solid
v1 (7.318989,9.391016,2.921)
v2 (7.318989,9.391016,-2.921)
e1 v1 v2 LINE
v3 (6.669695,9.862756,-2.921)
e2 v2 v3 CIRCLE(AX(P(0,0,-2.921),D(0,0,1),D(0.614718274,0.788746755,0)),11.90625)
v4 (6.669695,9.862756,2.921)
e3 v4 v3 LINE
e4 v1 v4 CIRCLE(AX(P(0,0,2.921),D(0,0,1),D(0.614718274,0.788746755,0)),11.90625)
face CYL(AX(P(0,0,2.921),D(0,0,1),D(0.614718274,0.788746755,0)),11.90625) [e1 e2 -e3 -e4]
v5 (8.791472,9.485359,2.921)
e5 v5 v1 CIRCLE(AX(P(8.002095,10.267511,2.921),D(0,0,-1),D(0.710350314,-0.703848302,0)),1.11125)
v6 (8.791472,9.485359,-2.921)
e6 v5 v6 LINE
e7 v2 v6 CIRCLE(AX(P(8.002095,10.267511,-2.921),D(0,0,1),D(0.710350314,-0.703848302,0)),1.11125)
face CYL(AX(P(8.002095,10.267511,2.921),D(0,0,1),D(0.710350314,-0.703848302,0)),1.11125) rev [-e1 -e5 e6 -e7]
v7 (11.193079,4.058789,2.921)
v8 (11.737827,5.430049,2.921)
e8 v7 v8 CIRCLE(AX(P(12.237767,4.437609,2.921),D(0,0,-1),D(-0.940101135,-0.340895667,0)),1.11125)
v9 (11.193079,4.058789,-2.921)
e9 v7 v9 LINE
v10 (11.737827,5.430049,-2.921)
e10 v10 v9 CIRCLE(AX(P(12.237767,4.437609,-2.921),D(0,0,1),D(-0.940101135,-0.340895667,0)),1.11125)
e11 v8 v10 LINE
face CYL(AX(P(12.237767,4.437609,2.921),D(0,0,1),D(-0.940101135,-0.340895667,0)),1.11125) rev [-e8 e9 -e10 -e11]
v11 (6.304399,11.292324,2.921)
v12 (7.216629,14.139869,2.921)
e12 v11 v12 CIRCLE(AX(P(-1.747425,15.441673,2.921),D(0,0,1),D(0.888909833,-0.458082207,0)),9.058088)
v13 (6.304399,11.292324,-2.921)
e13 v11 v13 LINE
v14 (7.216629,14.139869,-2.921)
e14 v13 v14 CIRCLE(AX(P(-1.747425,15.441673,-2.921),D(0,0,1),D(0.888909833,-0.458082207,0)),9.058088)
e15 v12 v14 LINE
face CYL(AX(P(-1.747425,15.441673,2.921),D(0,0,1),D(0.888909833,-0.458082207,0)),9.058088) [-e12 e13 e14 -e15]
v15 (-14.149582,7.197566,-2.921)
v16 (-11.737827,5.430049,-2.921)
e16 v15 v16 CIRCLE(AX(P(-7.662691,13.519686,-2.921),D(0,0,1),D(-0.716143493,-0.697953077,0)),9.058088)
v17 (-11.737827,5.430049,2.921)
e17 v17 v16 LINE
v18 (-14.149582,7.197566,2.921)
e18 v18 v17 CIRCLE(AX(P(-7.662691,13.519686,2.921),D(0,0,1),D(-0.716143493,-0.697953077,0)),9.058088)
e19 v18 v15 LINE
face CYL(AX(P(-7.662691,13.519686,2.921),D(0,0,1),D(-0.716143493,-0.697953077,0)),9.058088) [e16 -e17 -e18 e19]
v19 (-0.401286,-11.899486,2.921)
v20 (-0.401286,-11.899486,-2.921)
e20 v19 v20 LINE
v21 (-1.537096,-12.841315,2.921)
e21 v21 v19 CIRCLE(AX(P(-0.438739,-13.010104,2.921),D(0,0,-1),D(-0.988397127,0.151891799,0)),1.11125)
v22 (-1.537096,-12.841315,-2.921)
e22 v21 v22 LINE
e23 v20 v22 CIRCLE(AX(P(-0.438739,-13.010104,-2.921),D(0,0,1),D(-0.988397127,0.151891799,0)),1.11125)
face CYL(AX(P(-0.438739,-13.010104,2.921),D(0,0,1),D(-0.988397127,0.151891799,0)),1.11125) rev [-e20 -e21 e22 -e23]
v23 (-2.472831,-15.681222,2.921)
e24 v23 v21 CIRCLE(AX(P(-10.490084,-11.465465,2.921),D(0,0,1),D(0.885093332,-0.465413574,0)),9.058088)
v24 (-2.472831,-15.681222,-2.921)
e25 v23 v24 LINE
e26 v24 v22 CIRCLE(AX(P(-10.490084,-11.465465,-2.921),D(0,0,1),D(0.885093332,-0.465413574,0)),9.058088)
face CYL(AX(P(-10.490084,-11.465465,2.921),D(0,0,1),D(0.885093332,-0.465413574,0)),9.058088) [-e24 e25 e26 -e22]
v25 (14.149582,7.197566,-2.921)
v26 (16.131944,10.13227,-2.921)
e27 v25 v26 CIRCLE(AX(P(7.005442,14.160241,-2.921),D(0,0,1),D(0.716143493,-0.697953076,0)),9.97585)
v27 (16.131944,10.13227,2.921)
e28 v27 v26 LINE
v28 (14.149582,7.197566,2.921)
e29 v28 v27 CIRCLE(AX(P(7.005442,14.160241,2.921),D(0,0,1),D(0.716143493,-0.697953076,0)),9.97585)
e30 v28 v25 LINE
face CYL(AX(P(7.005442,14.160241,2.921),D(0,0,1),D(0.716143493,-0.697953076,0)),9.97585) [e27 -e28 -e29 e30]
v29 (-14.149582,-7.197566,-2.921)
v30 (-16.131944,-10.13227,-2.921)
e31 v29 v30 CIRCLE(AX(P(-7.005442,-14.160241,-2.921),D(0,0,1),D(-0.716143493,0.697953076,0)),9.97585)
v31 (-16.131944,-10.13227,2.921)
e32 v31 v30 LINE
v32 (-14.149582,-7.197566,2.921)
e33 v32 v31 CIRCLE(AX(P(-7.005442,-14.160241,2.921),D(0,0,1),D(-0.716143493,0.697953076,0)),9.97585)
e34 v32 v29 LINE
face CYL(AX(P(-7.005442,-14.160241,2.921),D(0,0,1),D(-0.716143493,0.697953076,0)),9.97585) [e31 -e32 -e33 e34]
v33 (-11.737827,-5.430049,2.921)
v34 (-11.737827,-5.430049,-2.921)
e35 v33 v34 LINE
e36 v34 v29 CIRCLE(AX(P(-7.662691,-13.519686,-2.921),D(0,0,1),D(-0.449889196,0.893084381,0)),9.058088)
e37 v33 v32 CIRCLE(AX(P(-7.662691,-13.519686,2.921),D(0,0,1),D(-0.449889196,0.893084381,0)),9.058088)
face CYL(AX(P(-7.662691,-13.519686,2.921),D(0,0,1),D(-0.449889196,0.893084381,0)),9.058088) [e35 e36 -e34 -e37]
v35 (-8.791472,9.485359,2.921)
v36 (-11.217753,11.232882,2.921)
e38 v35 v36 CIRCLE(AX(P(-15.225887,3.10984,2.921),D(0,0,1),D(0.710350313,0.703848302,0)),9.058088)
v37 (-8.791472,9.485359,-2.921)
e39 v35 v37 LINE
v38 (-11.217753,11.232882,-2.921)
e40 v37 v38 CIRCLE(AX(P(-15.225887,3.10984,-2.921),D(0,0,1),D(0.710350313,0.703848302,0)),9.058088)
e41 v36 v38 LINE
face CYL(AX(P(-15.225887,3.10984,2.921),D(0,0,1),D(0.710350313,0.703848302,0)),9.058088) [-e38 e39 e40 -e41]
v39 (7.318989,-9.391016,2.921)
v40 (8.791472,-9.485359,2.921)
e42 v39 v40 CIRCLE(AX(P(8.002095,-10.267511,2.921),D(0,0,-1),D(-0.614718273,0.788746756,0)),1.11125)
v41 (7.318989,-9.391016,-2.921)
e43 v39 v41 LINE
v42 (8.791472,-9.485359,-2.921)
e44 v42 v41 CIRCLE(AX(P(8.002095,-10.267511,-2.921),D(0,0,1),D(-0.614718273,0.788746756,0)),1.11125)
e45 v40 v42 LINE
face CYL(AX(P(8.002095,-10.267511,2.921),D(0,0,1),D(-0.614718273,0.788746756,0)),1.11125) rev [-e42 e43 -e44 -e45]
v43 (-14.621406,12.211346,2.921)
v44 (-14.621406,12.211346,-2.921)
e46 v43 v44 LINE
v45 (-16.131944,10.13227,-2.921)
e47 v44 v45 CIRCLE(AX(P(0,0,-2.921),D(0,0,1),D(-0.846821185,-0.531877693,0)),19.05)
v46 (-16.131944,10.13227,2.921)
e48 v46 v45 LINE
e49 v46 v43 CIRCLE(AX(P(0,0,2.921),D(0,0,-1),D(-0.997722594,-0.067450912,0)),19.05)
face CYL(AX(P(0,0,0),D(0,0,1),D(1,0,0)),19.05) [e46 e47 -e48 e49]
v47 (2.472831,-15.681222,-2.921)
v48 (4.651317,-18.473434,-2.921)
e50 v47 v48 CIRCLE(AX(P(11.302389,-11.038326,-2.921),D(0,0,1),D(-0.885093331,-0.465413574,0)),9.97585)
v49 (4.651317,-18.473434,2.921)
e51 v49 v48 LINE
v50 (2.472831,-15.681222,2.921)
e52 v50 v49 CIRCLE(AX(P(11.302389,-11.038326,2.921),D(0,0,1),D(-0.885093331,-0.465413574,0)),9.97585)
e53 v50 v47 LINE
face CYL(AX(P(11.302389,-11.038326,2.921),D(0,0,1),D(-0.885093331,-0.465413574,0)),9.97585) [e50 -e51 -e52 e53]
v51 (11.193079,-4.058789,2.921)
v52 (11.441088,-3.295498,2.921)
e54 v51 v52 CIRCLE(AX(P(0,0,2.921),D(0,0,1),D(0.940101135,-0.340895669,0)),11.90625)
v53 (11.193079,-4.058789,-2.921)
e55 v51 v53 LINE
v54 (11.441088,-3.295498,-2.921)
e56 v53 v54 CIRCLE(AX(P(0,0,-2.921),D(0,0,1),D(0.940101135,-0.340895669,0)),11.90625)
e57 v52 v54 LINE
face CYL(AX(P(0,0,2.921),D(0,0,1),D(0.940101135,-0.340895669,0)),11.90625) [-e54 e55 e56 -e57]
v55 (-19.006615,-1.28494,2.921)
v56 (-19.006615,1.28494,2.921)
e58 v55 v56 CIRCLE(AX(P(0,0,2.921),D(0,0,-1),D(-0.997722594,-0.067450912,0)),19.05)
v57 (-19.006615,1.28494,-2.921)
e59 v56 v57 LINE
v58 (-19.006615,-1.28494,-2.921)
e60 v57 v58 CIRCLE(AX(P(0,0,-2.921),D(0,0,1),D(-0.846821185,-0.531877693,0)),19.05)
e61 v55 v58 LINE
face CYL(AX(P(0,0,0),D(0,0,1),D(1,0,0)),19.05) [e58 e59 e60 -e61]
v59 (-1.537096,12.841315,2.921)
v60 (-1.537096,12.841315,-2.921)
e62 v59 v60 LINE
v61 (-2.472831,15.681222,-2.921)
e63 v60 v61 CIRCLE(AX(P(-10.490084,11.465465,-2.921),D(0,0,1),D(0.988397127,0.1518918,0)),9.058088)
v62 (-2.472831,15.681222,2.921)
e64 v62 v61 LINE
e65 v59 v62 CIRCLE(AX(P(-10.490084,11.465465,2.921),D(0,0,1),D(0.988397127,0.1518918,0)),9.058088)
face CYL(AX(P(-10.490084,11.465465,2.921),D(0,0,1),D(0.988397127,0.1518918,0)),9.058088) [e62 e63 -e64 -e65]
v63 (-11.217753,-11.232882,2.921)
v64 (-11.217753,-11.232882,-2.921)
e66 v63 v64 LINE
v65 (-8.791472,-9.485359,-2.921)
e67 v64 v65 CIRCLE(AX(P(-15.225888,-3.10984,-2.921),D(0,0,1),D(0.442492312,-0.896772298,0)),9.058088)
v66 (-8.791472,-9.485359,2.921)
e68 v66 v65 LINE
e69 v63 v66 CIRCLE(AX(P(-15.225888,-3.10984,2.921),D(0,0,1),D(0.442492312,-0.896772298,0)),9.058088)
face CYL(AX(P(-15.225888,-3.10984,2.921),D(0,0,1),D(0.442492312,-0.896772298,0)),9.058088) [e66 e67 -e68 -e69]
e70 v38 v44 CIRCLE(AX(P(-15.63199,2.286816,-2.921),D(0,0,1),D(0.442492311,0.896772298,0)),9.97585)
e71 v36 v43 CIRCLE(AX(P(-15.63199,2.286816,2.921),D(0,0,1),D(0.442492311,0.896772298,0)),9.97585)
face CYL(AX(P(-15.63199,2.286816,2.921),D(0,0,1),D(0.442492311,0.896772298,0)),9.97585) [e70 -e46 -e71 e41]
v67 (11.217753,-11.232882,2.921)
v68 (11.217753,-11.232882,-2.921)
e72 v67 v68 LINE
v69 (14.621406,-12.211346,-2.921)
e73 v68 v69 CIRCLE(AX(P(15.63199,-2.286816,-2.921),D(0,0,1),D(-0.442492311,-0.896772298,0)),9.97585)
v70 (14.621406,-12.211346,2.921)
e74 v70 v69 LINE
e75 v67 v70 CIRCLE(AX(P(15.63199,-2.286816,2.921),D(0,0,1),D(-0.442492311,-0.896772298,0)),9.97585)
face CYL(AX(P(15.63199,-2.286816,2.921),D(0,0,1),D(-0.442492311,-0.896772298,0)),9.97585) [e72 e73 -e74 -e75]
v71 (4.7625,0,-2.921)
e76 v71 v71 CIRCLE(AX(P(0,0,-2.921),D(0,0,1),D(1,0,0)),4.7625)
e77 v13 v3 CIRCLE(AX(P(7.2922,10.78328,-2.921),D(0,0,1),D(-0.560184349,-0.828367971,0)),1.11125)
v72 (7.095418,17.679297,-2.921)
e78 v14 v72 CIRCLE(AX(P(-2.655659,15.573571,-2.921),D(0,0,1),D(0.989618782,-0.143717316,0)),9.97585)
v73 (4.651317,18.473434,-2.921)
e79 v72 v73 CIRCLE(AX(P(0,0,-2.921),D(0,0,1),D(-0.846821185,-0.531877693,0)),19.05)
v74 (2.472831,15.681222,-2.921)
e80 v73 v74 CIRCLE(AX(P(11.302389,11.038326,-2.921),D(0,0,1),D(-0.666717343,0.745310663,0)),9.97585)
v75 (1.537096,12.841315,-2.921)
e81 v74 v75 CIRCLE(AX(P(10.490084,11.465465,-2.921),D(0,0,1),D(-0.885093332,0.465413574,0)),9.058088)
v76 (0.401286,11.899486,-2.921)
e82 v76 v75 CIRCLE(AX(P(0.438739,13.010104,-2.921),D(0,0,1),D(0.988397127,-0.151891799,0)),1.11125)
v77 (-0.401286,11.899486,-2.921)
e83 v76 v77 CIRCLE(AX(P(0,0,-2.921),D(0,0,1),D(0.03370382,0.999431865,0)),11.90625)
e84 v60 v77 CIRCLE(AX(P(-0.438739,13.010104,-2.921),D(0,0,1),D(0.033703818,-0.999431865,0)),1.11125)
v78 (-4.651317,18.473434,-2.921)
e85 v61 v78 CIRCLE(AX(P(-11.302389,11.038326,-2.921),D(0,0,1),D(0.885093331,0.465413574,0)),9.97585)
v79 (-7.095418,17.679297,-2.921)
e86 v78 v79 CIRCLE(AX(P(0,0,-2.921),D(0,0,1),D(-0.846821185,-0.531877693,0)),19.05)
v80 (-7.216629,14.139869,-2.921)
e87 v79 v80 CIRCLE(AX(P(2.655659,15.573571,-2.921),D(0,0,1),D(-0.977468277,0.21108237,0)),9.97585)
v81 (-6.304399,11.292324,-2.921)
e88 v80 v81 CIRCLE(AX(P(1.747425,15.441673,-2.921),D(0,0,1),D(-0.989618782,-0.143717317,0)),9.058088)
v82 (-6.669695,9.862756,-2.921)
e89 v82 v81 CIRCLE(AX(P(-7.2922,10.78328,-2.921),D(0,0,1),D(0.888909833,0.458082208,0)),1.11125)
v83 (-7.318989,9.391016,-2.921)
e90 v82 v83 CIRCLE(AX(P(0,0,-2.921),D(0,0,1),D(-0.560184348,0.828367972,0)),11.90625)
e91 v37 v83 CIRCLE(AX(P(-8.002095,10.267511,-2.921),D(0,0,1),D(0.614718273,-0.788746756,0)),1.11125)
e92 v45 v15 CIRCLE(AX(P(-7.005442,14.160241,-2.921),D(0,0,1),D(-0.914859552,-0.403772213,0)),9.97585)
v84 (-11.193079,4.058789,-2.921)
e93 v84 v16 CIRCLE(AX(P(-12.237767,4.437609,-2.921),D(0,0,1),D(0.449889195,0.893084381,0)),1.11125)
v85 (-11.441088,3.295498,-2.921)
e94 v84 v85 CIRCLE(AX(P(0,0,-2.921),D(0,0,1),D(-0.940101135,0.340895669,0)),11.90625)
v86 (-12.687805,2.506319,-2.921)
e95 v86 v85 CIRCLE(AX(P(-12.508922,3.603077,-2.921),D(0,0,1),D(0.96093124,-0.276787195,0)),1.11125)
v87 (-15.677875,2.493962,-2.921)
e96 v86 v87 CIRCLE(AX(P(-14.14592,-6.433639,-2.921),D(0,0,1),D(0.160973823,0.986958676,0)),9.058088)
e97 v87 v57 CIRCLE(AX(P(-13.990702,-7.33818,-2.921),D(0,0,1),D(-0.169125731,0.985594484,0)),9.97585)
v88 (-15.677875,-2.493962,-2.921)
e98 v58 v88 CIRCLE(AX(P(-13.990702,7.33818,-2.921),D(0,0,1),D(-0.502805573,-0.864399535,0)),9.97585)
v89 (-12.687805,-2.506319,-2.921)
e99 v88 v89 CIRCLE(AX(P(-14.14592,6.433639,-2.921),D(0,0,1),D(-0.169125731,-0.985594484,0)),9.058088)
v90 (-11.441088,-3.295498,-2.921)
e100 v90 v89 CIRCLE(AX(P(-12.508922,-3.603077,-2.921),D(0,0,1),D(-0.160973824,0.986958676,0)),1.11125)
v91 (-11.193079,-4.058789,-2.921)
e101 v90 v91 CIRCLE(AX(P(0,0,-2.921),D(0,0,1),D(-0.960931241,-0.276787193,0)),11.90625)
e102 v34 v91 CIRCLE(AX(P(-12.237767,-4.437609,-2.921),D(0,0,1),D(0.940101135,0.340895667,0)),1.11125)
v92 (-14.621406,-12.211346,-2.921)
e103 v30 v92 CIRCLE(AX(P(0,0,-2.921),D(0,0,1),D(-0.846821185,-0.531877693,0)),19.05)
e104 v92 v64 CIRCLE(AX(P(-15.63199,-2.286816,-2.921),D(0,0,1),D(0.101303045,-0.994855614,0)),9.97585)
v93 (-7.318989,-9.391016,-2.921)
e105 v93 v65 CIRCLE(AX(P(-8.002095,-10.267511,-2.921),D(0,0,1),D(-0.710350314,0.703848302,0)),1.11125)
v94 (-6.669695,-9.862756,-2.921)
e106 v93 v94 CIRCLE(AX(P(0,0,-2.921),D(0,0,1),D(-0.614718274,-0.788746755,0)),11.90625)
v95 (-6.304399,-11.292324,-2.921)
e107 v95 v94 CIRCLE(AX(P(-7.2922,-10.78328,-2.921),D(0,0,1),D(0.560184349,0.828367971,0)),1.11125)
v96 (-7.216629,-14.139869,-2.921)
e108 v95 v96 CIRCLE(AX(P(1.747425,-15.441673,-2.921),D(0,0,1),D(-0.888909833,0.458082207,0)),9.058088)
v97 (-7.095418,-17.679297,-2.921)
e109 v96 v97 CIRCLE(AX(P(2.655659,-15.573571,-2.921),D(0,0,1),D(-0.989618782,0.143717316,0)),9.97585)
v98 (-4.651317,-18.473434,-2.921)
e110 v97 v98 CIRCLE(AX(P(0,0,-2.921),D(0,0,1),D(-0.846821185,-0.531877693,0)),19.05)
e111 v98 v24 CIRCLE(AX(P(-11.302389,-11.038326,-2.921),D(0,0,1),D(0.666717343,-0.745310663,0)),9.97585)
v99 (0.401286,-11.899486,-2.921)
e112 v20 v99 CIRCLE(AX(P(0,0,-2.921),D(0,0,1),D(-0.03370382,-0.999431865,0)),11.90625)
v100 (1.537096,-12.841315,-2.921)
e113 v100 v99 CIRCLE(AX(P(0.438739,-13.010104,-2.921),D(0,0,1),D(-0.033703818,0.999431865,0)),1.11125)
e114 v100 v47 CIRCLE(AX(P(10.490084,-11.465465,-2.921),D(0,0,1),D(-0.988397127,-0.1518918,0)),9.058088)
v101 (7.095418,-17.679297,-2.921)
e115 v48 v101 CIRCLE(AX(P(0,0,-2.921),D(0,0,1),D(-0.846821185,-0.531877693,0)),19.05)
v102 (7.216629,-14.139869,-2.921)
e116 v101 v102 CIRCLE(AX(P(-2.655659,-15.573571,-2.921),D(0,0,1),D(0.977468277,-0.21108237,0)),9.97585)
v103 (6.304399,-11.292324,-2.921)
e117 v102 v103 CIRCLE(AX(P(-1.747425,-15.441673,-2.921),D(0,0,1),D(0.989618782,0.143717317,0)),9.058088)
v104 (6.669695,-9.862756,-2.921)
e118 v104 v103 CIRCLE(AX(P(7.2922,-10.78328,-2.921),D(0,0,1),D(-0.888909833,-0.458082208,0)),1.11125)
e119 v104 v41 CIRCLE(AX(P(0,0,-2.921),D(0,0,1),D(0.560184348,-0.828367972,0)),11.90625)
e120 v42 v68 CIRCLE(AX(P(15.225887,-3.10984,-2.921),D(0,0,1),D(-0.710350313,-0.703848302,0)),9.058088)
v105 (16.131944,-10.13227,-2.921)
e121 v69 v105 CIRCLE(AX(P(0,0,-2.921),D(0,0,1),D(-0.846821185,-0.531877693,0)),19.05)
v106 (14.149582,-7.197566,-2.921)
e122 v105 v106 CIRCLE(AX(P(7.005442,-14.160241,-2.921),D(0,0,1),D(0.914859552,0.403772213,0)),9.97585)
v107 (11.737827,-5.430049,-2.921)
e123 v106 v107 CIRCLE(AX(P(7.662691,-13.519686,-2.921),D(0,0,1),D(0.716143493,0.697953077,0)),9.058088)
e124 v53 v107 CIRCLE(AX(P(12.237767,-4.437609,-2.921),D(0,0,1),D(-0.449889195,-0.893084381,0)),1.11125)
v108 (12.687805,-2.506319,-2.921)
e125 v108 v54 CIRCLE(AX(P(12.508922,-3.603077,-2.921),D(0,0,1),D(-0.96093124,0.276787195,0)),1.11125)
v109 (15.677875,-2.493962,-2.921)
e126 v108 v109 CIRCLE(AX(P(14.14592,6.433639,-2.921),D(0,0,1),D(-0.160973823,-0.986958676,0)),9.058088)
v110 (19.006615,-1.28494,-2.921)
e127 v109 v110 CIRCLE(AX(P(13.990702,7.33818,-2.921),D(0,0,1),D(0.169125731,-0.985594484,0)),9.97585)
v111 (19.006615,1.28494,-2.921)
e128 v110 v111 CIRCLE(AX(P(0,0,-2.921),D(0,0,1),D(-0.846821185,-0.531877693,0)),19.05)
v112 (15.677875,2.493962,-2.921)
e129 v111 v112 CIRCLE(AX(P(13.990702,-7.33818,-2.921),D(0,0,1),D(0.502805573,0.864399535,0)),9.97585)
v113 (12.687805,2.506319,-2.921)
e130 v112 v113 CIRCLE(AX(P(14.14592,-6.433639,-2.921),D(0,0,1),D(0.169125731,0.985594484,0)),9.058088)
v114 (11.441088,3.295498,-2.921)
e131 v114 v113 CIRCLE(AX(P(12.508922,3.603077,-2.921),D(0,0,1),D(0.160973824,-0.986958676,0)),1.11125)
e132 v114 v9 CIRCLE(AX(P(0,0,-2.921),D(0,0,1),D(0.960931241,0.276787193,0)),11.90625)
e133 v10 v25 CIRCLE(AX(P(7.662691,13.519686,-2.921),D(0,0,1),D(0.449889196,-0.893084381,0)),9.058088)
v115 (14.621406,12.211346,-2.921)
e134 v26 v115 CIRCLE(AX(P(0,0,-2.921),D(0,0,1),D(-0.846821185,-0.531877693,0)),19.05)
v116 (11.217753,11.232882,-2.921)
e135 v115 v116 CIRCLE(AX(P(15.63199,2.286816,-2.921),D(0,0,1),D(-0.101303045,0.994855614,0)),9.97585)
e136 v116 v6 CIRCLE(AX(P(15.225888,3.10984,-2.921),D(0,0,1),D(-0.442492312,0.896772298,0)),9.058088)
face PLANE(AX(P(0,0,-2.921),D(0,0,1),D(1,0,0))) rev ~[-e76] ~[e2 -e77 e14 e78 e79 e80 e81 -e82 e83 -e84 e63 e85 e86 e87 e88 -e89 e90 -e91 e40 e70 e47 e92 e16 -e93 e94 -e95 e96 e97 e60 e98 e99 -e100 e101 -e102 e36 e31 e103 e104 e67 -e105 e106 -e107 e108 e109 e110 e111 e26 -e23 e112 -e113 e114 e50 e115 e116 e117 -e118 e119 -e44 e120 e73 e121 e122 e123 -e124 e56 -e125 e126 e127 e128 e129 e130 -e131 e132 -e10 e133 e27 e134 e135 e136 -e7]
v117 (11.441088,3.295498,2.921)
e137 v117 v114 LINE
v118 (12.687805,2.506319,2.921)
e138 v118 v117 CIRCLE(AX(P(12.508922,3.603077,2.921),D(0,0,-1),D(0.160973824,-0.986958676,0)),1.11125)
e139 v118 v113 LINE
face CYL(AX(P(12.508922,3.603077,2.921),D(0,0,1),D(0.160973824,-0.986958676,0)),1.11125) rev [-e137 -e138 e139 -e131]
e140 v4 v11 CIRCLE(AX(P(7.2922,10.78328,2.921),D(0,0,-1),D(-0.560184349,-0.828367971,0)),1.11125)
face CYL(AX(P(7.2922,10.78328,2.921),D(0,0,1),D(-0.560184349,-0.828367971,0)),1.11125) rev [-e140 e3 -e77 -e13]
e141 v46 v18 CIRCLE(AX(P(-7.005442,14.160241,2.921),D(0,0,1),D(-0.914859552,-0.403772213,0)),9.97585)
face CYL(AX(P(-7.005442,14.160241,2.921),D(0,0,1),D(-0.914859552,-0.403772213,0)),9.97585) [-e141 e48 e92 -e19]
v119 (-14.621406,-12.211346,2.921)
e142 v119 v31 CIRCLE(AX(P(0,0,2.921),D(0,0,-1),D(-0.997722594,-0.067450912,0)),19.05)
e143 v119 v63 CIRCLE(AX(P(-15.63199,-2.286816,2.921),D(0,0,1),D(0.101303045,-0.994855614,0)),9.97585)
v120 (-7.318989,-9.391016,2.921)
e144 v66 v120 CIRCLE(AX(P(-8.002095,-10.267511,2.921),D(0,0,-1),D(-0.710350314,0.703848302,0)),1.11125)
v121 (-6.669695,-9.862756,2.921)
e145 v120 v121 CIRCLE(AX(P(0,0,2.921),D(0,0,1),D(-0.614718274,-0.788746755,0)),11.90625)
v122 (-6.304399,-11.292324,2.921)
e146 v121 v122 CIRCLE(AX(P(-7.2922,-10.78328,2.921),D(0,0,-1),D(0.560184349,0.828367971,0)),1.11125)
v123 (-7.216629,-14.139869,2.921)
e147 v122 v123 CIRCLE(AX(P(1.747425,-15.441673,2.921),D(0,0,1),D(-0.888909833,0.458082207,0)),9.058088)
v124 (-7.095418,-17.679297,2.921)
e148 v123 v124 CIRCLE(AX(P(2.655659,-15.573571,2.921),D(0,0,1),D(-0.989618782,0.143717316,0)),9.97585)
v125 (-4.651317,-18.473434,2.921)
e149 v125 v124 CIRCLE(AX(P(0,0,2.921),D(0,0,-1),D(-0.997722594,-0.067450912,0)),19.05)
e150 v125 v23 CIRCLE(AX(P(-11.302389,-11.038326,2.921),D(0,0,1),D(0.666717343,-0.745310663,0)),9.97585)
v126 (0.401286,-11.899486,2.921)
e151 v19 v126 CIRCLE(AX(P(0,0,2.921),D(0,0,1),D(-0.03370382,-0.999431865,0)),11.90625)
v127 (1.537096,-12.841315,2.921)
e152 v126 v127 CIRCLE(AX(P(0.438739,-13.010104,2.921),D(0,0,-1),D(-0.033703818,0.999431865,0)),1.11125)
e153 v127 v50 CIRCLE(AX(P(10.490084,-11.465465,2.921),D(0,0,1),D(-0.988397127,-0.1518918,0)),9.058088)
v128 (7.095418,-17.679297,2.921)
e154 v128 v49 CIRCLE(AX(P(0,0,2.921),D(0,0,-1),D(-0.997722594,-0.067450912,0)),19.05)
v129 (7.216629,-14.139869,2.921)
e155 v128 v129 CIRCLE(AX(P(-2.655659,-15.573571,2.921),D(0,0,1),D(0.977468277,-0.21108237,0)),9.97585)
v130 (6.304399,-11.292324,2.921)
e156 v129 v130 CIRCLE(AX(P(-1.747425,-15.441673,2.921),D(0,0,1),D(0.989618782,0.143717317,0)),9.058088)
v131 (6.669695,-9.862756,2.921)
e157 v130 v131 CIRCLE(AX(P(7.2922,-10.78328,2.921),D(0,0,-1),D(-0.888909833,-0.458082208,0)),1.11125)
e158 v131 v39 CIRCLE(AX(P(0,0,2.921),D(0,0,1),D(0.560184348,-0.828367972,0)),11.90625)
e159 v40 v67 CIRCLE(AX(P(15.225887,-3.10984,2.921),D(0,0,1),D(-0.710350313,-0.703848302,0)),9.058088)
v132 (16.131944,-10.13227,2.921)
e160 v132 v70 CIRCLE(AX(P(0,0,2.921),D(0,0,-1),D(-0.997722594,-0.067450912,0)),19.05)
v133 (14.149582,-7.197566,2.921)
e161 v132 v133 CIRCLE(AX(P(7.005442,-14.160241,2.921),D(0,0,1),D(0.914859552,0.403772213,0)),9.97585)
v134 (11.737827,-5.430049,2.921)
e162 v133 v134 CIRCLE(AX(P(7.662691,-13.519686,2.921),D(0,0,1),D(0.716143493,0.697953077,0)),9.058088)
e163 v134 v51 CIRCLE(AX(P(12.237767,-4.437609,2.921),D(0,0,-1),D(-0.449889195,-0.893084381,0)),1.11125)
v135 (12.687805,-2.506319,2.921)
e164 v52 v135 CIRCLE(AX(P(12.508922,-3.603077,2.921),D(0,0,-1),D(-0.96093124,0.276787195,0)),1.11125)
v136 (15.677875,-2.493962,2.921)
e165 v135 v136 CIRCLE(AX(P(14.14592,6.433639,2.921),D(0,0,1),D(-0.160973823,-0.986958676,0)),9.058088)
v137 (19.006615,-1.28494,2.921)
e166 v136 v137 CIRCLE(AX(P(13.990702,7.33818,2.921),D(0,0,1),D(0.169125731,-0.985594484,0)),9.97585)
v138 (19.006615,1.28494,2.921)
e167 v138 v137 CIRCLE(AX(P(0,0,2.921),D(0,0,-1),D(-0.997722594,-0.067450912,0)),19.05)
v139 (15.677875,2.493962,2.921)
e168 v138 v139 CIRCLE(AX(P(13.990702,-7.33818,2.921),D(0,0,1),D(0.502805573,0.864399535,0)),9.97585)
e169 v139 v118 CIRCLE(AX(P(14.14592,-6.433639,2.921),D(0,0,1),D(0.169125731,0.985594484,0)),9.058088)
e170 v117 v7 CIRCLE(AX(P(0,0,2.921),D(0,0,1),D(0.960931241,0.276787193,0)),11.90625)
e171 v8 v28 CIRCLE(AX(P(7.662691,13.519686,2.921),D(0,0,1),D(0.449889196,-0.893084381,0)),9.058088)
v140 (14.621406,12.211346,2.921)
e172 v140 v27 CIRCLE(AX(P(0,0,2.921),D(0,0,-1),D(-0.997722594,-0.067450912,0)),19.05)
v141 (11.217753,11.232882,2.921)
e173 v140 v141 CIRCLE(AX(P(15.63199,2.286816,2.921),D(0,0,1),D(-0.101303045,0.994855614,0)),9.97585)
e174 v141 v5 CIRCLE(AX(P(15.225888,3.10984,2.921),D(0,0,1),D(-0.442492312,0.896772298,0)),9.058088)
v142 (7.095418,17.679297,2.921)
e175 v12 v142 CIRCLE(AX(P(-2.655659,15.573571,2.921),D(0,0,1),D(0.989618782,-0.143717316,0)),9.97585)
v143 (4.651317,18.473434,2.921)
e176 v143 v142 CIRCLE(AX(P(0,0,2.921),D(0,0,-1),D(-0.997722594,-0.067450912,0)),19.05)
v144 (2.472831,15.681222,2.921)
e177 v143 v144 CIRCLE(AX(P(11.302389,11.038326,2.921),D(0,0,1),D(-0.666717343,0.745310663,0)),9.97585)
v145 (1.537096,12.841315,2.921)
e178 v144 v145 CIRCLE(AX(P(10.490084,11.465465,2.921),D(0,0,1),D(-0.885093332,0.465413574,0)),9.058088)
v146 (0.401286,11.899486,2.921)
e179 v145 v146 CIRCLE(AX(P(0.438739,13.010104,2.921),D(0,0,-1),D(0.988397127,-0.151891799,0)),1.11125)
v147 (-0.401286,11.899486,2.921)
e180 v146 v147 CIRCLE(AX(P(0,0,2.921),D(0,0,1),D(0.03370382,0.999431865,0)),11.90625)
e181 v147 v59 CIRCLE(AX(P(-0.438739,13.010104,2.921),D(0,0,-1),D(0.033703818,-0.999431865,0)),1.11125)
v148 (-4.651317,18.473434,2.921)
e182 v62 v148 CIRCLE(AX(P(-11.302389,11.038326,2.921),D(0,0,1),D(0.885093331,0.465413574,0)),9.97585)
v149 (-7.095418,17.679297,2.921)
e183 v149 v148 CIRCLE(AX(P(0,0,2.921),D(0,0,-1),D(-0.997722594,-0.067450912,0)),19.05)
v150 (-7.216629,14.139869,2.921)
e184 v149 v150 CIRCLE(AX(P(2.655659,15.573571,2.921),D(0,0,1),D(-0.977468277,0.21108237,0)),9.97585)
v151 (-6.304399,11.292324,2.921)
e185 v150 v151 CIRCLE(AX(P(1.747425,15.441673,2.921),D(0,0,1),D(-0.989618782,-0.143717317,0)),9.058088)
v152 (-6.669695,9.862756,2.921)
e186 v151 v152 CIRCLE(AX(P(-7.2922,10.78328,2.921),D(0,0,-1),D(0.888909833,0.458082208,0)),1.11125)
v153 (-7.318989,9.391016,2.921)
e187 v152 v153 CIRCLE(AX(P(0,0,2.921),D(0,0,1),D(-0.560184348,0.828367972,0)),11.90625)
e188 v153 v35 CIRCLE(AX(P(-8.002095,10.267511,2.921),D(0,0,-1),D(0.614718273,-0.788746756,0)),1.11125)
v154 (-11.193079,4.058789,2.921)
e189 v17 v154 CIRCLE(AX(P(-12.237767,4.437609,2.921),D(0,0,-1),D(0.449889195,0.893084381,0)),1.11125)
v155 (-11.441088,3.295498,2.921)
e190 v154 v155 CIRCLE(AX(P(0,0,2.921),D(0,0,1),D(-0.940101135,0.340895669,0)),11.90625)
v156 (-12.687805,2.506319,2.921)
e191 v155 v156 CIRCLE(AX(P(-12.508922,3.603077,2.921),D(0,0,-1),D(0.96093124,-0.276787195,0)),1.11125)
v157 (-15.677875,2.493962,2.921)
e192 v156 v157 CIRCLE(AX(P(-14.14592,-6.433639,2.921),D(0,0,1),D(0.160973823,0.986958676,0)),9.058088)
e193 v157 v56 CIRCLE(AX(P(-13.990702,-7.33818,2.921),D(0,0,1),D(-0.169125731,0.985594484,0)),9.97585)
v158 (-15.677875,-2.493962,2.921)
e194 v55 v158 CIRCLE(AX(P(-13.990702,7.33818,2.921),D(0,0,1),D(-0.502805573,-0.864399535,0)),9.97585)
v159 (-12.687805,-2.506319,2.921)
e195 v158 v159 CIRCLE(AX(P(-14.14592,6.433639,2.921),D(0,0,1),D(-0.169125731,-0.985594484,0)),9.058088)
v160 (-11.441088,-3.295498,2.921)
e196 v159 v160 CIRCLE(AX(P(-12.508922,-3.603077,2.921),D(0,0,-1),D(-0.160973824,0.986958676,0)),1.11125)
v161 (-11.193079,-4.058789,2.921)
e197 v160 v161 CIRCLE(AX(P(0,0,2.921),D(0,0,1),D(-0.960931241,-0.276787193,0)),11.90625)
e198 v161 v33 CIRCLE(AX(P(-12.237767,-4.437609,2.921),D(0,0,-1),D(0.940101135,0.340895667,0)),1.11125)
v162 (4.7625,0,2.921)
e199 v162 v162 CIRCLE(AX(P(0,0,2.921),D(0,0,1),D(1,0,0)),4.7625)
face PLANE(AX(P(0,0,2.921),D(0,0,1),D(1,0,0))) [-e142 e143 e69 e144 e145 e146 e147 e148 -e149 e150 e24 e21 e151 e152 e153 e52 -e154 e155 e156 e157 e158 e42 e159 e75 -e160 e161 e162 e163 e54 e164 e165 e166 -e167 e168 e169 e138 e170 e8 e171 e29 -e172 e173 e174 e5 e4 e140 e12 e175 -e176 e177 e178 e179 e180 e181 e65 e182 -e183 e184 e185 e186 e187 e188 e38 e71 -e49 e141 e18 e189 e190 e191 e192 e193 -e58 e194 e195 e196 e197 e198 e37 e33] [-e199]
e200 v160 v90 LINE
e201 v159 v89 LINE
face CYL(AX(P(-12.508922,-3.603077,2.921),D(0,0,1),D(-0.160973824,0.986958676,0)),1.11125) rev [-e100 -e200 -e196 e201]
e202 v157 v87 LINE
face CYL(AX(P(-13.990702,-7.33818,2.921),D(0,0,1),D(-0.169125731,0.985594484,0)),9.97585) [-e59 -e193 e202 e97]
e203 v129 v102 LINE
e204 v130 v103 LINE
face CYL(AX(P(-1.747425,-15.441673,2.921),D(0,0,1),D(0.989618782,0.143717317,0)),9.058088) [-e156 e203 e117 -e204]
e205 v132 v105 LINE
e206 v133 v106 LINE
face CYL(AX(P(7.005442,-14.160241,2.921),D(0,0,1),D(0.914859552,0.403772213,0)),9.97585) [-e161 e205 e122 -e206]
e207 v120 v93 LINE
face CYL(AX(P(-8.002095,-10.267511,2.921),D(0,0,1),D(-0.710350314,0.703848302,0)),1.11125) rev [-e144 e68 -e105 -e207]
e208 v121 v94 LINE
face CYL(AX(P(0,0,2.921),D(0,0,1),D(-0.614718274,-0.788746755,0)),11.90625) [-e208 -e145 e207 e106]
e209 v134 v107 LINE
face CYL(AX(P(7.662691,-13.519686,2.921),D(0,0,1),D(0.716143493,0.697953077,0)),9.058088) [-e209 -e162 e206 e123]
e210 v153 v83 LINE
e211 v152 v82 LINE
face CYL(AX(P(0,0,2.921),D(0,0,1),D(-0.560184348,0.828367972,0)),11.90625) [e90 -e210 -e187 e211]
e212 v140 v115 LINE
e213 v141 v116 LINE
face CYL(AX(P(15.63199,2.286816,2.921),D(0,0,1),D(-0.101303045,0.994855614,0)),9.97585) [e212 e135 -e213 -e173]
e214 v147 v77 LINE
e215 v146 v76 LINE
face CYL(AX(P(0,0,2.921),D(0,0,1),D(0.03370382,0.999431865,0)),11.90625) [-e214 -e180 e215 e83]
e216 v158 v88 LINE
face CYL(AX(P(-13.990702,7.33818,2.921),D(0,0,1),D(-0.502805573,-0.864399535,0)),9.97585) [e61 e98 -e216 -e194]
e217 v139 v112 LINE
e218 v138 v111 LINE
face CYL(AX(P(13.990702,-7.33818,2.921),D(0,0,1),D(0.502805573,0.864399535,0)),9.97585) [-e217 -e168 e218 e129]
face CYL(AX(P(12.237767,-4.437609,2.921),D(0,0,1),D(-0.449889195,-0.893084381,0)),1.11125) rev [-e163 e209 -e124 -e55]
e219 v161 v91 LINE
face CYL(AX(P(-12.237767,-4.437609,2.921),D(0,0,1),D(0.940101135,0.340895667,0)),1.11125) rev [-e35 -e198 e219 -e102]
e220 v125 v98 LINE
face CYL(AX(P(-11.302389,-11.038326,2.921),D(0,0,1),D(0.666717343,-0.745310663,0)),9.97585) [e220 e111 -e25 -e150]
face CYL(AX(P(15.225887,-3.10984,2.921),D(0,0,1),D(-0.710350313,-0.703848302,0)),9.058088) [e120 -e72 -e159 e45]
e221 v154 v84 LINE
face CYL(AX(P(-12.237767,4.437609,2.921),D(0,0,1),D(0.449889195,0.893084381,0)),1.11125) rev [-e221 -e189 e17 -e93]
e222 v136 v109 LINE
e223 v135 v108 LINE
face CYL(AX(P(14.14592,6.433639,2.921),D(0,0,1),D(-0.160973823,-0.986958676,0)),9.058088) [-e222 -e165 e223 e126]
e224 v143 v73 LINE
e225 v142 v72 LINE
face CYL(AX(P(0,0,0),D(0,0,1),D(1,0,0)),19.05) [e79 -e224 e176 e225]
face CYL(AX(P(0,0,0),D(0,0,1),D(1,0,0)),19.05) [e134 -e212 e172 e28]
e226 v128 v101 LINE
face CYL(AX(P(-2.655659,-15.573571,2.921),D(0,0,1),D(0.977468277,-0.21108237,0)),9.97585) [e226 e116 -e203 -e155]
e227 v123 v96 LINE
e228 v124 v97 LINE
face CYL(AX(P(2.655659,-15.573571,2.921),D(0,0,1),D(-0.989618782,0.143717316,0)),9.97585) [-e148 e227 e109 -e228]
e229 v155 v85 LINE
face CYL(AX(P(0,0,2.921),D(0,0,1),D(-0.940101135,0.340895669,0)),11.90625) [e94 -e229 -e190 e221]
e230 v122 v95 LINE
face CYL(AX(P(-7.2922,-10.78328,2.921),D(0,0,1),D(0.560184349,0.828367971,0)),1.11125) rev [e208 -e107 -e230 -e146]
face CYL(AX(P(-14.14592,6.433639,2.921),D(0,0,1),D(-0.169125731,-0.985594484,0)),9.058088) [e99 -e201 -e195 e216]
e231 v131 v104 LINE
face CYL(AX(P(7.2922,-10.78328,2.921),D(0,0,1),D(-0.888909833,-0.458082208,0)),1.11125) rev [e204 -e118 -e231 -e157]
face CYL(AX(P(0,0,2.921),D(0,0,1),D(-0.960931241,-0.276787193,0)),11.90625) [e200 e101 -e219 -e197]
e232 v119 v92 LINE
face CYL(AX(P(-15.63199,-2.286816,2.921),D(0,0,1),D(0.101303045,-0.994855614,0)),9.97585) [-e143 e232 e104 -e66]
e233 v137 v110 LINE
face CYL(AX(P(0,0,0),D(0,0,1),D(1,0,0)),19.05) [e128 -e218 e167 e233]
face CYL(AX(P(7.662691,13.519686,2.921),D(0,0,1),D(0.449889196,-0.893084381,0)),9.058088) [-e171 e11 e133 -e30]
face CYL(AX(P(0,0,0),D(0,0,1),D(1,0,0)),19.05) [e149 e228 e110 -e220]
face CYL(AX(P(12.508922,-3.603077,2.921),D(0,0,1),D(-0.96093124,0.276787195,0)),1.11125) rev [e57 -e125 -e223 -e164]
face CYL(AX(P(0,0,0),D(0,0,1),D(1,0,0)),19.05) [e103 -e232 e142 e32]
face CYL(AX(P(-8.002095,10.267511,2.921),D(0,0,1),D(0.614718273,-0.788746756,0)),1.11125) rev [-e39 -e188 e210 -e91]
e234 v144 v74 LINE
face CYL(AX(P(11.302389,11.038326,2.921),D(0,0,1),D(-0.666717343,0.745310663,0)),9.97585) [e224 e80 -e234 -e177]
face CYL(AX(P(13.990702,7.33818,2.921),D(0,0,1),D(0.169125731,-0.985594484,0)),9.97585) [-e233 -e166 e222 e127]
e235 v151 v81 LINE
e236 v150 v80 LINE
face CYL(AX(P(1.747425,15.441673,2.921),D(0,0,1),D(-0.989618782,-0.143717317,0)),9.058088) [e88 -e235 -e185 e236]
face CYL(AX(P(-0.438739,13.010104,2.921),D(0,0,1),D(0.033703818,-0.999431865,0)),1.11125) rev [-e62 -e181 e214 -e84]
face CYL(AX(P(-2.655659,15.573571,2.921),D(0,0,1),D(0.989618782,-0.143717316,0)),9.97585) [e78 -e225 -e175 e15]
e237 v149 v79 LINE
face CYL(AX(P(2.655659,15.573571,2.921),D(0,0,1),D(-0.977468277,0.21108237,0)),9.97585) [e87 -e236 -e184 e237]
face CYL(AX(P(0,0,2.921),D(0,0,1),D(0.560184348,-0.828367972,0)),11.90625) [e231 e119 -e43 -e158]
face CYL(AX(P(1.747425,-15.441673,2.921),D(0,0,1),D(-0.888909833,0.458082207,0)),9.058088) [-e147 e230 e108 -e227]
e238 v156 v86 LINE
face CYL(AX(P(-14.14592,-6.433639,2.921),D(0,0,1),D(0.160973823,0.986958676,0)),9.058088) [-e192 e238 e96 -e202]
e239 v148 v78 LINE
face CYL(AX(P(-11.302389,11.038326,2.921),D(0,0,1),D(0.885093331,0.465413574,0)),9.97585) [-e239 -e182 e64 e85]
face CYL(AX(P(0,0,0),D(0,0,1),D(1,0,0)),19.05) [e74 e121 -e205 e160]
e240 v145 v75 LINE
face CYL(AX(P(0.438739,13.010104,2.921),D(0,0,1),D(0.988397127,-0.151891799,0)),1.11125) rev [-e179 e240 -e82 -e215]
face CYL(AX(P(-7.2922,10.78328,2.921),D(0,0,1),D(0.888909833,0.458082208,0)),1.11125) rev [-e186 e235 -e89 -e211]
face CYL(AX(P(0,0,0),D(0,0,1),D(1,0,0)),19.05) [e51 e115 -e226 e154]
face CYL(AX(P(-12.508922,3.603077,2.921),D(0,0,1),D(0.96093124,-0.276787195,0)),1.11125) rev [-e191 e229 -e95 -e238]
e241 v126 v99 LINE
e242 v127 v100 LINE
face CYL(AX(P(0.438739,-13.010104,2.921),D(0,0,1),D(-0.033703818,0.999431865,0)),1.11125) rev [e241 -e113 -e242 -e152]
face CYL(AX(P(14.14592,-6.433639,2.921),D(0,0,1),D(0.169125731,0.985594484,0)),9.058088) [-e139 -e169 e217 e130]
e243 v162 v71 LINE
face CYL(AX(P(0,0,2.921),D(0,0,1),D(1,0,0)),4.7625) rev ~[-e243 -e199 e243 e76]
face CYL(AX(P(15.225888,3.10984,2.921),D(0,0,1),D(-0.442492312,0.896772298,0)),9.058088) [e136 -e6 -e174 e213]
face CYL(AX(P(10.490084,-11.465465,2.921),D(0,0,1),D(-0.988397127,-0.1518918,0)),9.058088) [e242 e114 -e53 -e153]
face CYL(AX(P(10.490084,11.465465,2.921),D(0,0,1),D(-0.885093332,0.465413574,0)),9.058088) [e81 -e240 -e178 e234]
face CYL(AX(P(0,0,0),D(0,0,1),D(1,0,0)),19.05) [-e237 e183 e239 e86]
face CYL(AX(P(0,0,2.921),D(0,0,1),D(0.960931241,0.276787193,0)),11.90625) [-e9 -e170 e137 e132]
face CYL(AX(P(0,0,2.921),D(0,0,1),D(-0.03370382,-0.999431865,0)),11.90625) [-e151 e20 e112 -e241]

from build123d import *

# Parameters (mm, degrees)
SKETCH1_R        = 19.05
GEAR_BASE_DEPTH  = 2.921
GEAR_CUT_DEPTH   = 28.566899789
GEAR_TEETH_COUNT = 10
SKETCH3_R        = 4.7625
BORE_DEPTH       = 28.171662015


with BuildPart() as part:
    # Sketch1 → GEAR_BASE (new, symmetric)
    with BuildSketch(Plane.XY):
        Circle(SKETCH1_R)
    extrude(amount=GEAR_BASE_DEPTH, both=True)

    # Sketch2 → GEAR_CUT (cut, through all)
    with BuildSketch(Plane.XY.offset(2.921)):
        with BuildLine():
            ThreePointArc((-16.131943581, -10.132270047), (-18.117626635, -5.886773743), (-19.006615415, -1.284939867))
            ThreePointArc((-19.006615415, -1.284939867), (-17.396326331, -2.038349463), (-15.677875368, -2.4939625))
            ThreePointArc((-15.677875368, -2.4939625), (-14.183353381, -2.624371579), (-12.687804586, -2.506319471))
            ThreePointArc((-12.687804586, -2.506319471), (-11.914565866, -2.664132762), (-11.441087583, -3.29549753))
            ThreePointArc((-11.441087583, -3.29549753), (-11.323516647, -3.679233589), (-11.193079136, -4.058789045))
            ThreePointArc((-11.193079136, -4.058789045), (-11.205024214, -4.847877423), (-11.737827153, -5.430049374))
            ThreePointArc((-11.737827153, -5.430049374), (-13.017140833, -6.213604738), (-14.149581986, -7.197565883))
            ThreePointArc((-14.149581986, -7.197565883), (-15.272035395, -8.576244706), (-16.131943581, -10.132270047))
        make_face()
    gear_cut = extrude(amount=-GEAR_CUT_DEPTH, mode=Mode.SUBTRACT)

    # GEAR_TEETH: GEAR_CUT ×10 about axis
    gear_teeth_axis = Axis((0, 0, -3.2131), (0, 0, 1))
    for i in range(1, GEAR_TEETH_COUNT):
        add(gear_cut.rotate(gear_teeth_axis, i * 360 / GEAR_TEETH_COUNT), mode=Mode.SUBTRACT)

    # Sketch3 → BORE (cut, through all)
    with BuildSketch(Plane.XY.offset(2.921)):
        Circle(SKETCH3_R)
    extrude(amount=-BORE_DEPTH, mode=Mode.SUBTRACT)


solid = part.part
